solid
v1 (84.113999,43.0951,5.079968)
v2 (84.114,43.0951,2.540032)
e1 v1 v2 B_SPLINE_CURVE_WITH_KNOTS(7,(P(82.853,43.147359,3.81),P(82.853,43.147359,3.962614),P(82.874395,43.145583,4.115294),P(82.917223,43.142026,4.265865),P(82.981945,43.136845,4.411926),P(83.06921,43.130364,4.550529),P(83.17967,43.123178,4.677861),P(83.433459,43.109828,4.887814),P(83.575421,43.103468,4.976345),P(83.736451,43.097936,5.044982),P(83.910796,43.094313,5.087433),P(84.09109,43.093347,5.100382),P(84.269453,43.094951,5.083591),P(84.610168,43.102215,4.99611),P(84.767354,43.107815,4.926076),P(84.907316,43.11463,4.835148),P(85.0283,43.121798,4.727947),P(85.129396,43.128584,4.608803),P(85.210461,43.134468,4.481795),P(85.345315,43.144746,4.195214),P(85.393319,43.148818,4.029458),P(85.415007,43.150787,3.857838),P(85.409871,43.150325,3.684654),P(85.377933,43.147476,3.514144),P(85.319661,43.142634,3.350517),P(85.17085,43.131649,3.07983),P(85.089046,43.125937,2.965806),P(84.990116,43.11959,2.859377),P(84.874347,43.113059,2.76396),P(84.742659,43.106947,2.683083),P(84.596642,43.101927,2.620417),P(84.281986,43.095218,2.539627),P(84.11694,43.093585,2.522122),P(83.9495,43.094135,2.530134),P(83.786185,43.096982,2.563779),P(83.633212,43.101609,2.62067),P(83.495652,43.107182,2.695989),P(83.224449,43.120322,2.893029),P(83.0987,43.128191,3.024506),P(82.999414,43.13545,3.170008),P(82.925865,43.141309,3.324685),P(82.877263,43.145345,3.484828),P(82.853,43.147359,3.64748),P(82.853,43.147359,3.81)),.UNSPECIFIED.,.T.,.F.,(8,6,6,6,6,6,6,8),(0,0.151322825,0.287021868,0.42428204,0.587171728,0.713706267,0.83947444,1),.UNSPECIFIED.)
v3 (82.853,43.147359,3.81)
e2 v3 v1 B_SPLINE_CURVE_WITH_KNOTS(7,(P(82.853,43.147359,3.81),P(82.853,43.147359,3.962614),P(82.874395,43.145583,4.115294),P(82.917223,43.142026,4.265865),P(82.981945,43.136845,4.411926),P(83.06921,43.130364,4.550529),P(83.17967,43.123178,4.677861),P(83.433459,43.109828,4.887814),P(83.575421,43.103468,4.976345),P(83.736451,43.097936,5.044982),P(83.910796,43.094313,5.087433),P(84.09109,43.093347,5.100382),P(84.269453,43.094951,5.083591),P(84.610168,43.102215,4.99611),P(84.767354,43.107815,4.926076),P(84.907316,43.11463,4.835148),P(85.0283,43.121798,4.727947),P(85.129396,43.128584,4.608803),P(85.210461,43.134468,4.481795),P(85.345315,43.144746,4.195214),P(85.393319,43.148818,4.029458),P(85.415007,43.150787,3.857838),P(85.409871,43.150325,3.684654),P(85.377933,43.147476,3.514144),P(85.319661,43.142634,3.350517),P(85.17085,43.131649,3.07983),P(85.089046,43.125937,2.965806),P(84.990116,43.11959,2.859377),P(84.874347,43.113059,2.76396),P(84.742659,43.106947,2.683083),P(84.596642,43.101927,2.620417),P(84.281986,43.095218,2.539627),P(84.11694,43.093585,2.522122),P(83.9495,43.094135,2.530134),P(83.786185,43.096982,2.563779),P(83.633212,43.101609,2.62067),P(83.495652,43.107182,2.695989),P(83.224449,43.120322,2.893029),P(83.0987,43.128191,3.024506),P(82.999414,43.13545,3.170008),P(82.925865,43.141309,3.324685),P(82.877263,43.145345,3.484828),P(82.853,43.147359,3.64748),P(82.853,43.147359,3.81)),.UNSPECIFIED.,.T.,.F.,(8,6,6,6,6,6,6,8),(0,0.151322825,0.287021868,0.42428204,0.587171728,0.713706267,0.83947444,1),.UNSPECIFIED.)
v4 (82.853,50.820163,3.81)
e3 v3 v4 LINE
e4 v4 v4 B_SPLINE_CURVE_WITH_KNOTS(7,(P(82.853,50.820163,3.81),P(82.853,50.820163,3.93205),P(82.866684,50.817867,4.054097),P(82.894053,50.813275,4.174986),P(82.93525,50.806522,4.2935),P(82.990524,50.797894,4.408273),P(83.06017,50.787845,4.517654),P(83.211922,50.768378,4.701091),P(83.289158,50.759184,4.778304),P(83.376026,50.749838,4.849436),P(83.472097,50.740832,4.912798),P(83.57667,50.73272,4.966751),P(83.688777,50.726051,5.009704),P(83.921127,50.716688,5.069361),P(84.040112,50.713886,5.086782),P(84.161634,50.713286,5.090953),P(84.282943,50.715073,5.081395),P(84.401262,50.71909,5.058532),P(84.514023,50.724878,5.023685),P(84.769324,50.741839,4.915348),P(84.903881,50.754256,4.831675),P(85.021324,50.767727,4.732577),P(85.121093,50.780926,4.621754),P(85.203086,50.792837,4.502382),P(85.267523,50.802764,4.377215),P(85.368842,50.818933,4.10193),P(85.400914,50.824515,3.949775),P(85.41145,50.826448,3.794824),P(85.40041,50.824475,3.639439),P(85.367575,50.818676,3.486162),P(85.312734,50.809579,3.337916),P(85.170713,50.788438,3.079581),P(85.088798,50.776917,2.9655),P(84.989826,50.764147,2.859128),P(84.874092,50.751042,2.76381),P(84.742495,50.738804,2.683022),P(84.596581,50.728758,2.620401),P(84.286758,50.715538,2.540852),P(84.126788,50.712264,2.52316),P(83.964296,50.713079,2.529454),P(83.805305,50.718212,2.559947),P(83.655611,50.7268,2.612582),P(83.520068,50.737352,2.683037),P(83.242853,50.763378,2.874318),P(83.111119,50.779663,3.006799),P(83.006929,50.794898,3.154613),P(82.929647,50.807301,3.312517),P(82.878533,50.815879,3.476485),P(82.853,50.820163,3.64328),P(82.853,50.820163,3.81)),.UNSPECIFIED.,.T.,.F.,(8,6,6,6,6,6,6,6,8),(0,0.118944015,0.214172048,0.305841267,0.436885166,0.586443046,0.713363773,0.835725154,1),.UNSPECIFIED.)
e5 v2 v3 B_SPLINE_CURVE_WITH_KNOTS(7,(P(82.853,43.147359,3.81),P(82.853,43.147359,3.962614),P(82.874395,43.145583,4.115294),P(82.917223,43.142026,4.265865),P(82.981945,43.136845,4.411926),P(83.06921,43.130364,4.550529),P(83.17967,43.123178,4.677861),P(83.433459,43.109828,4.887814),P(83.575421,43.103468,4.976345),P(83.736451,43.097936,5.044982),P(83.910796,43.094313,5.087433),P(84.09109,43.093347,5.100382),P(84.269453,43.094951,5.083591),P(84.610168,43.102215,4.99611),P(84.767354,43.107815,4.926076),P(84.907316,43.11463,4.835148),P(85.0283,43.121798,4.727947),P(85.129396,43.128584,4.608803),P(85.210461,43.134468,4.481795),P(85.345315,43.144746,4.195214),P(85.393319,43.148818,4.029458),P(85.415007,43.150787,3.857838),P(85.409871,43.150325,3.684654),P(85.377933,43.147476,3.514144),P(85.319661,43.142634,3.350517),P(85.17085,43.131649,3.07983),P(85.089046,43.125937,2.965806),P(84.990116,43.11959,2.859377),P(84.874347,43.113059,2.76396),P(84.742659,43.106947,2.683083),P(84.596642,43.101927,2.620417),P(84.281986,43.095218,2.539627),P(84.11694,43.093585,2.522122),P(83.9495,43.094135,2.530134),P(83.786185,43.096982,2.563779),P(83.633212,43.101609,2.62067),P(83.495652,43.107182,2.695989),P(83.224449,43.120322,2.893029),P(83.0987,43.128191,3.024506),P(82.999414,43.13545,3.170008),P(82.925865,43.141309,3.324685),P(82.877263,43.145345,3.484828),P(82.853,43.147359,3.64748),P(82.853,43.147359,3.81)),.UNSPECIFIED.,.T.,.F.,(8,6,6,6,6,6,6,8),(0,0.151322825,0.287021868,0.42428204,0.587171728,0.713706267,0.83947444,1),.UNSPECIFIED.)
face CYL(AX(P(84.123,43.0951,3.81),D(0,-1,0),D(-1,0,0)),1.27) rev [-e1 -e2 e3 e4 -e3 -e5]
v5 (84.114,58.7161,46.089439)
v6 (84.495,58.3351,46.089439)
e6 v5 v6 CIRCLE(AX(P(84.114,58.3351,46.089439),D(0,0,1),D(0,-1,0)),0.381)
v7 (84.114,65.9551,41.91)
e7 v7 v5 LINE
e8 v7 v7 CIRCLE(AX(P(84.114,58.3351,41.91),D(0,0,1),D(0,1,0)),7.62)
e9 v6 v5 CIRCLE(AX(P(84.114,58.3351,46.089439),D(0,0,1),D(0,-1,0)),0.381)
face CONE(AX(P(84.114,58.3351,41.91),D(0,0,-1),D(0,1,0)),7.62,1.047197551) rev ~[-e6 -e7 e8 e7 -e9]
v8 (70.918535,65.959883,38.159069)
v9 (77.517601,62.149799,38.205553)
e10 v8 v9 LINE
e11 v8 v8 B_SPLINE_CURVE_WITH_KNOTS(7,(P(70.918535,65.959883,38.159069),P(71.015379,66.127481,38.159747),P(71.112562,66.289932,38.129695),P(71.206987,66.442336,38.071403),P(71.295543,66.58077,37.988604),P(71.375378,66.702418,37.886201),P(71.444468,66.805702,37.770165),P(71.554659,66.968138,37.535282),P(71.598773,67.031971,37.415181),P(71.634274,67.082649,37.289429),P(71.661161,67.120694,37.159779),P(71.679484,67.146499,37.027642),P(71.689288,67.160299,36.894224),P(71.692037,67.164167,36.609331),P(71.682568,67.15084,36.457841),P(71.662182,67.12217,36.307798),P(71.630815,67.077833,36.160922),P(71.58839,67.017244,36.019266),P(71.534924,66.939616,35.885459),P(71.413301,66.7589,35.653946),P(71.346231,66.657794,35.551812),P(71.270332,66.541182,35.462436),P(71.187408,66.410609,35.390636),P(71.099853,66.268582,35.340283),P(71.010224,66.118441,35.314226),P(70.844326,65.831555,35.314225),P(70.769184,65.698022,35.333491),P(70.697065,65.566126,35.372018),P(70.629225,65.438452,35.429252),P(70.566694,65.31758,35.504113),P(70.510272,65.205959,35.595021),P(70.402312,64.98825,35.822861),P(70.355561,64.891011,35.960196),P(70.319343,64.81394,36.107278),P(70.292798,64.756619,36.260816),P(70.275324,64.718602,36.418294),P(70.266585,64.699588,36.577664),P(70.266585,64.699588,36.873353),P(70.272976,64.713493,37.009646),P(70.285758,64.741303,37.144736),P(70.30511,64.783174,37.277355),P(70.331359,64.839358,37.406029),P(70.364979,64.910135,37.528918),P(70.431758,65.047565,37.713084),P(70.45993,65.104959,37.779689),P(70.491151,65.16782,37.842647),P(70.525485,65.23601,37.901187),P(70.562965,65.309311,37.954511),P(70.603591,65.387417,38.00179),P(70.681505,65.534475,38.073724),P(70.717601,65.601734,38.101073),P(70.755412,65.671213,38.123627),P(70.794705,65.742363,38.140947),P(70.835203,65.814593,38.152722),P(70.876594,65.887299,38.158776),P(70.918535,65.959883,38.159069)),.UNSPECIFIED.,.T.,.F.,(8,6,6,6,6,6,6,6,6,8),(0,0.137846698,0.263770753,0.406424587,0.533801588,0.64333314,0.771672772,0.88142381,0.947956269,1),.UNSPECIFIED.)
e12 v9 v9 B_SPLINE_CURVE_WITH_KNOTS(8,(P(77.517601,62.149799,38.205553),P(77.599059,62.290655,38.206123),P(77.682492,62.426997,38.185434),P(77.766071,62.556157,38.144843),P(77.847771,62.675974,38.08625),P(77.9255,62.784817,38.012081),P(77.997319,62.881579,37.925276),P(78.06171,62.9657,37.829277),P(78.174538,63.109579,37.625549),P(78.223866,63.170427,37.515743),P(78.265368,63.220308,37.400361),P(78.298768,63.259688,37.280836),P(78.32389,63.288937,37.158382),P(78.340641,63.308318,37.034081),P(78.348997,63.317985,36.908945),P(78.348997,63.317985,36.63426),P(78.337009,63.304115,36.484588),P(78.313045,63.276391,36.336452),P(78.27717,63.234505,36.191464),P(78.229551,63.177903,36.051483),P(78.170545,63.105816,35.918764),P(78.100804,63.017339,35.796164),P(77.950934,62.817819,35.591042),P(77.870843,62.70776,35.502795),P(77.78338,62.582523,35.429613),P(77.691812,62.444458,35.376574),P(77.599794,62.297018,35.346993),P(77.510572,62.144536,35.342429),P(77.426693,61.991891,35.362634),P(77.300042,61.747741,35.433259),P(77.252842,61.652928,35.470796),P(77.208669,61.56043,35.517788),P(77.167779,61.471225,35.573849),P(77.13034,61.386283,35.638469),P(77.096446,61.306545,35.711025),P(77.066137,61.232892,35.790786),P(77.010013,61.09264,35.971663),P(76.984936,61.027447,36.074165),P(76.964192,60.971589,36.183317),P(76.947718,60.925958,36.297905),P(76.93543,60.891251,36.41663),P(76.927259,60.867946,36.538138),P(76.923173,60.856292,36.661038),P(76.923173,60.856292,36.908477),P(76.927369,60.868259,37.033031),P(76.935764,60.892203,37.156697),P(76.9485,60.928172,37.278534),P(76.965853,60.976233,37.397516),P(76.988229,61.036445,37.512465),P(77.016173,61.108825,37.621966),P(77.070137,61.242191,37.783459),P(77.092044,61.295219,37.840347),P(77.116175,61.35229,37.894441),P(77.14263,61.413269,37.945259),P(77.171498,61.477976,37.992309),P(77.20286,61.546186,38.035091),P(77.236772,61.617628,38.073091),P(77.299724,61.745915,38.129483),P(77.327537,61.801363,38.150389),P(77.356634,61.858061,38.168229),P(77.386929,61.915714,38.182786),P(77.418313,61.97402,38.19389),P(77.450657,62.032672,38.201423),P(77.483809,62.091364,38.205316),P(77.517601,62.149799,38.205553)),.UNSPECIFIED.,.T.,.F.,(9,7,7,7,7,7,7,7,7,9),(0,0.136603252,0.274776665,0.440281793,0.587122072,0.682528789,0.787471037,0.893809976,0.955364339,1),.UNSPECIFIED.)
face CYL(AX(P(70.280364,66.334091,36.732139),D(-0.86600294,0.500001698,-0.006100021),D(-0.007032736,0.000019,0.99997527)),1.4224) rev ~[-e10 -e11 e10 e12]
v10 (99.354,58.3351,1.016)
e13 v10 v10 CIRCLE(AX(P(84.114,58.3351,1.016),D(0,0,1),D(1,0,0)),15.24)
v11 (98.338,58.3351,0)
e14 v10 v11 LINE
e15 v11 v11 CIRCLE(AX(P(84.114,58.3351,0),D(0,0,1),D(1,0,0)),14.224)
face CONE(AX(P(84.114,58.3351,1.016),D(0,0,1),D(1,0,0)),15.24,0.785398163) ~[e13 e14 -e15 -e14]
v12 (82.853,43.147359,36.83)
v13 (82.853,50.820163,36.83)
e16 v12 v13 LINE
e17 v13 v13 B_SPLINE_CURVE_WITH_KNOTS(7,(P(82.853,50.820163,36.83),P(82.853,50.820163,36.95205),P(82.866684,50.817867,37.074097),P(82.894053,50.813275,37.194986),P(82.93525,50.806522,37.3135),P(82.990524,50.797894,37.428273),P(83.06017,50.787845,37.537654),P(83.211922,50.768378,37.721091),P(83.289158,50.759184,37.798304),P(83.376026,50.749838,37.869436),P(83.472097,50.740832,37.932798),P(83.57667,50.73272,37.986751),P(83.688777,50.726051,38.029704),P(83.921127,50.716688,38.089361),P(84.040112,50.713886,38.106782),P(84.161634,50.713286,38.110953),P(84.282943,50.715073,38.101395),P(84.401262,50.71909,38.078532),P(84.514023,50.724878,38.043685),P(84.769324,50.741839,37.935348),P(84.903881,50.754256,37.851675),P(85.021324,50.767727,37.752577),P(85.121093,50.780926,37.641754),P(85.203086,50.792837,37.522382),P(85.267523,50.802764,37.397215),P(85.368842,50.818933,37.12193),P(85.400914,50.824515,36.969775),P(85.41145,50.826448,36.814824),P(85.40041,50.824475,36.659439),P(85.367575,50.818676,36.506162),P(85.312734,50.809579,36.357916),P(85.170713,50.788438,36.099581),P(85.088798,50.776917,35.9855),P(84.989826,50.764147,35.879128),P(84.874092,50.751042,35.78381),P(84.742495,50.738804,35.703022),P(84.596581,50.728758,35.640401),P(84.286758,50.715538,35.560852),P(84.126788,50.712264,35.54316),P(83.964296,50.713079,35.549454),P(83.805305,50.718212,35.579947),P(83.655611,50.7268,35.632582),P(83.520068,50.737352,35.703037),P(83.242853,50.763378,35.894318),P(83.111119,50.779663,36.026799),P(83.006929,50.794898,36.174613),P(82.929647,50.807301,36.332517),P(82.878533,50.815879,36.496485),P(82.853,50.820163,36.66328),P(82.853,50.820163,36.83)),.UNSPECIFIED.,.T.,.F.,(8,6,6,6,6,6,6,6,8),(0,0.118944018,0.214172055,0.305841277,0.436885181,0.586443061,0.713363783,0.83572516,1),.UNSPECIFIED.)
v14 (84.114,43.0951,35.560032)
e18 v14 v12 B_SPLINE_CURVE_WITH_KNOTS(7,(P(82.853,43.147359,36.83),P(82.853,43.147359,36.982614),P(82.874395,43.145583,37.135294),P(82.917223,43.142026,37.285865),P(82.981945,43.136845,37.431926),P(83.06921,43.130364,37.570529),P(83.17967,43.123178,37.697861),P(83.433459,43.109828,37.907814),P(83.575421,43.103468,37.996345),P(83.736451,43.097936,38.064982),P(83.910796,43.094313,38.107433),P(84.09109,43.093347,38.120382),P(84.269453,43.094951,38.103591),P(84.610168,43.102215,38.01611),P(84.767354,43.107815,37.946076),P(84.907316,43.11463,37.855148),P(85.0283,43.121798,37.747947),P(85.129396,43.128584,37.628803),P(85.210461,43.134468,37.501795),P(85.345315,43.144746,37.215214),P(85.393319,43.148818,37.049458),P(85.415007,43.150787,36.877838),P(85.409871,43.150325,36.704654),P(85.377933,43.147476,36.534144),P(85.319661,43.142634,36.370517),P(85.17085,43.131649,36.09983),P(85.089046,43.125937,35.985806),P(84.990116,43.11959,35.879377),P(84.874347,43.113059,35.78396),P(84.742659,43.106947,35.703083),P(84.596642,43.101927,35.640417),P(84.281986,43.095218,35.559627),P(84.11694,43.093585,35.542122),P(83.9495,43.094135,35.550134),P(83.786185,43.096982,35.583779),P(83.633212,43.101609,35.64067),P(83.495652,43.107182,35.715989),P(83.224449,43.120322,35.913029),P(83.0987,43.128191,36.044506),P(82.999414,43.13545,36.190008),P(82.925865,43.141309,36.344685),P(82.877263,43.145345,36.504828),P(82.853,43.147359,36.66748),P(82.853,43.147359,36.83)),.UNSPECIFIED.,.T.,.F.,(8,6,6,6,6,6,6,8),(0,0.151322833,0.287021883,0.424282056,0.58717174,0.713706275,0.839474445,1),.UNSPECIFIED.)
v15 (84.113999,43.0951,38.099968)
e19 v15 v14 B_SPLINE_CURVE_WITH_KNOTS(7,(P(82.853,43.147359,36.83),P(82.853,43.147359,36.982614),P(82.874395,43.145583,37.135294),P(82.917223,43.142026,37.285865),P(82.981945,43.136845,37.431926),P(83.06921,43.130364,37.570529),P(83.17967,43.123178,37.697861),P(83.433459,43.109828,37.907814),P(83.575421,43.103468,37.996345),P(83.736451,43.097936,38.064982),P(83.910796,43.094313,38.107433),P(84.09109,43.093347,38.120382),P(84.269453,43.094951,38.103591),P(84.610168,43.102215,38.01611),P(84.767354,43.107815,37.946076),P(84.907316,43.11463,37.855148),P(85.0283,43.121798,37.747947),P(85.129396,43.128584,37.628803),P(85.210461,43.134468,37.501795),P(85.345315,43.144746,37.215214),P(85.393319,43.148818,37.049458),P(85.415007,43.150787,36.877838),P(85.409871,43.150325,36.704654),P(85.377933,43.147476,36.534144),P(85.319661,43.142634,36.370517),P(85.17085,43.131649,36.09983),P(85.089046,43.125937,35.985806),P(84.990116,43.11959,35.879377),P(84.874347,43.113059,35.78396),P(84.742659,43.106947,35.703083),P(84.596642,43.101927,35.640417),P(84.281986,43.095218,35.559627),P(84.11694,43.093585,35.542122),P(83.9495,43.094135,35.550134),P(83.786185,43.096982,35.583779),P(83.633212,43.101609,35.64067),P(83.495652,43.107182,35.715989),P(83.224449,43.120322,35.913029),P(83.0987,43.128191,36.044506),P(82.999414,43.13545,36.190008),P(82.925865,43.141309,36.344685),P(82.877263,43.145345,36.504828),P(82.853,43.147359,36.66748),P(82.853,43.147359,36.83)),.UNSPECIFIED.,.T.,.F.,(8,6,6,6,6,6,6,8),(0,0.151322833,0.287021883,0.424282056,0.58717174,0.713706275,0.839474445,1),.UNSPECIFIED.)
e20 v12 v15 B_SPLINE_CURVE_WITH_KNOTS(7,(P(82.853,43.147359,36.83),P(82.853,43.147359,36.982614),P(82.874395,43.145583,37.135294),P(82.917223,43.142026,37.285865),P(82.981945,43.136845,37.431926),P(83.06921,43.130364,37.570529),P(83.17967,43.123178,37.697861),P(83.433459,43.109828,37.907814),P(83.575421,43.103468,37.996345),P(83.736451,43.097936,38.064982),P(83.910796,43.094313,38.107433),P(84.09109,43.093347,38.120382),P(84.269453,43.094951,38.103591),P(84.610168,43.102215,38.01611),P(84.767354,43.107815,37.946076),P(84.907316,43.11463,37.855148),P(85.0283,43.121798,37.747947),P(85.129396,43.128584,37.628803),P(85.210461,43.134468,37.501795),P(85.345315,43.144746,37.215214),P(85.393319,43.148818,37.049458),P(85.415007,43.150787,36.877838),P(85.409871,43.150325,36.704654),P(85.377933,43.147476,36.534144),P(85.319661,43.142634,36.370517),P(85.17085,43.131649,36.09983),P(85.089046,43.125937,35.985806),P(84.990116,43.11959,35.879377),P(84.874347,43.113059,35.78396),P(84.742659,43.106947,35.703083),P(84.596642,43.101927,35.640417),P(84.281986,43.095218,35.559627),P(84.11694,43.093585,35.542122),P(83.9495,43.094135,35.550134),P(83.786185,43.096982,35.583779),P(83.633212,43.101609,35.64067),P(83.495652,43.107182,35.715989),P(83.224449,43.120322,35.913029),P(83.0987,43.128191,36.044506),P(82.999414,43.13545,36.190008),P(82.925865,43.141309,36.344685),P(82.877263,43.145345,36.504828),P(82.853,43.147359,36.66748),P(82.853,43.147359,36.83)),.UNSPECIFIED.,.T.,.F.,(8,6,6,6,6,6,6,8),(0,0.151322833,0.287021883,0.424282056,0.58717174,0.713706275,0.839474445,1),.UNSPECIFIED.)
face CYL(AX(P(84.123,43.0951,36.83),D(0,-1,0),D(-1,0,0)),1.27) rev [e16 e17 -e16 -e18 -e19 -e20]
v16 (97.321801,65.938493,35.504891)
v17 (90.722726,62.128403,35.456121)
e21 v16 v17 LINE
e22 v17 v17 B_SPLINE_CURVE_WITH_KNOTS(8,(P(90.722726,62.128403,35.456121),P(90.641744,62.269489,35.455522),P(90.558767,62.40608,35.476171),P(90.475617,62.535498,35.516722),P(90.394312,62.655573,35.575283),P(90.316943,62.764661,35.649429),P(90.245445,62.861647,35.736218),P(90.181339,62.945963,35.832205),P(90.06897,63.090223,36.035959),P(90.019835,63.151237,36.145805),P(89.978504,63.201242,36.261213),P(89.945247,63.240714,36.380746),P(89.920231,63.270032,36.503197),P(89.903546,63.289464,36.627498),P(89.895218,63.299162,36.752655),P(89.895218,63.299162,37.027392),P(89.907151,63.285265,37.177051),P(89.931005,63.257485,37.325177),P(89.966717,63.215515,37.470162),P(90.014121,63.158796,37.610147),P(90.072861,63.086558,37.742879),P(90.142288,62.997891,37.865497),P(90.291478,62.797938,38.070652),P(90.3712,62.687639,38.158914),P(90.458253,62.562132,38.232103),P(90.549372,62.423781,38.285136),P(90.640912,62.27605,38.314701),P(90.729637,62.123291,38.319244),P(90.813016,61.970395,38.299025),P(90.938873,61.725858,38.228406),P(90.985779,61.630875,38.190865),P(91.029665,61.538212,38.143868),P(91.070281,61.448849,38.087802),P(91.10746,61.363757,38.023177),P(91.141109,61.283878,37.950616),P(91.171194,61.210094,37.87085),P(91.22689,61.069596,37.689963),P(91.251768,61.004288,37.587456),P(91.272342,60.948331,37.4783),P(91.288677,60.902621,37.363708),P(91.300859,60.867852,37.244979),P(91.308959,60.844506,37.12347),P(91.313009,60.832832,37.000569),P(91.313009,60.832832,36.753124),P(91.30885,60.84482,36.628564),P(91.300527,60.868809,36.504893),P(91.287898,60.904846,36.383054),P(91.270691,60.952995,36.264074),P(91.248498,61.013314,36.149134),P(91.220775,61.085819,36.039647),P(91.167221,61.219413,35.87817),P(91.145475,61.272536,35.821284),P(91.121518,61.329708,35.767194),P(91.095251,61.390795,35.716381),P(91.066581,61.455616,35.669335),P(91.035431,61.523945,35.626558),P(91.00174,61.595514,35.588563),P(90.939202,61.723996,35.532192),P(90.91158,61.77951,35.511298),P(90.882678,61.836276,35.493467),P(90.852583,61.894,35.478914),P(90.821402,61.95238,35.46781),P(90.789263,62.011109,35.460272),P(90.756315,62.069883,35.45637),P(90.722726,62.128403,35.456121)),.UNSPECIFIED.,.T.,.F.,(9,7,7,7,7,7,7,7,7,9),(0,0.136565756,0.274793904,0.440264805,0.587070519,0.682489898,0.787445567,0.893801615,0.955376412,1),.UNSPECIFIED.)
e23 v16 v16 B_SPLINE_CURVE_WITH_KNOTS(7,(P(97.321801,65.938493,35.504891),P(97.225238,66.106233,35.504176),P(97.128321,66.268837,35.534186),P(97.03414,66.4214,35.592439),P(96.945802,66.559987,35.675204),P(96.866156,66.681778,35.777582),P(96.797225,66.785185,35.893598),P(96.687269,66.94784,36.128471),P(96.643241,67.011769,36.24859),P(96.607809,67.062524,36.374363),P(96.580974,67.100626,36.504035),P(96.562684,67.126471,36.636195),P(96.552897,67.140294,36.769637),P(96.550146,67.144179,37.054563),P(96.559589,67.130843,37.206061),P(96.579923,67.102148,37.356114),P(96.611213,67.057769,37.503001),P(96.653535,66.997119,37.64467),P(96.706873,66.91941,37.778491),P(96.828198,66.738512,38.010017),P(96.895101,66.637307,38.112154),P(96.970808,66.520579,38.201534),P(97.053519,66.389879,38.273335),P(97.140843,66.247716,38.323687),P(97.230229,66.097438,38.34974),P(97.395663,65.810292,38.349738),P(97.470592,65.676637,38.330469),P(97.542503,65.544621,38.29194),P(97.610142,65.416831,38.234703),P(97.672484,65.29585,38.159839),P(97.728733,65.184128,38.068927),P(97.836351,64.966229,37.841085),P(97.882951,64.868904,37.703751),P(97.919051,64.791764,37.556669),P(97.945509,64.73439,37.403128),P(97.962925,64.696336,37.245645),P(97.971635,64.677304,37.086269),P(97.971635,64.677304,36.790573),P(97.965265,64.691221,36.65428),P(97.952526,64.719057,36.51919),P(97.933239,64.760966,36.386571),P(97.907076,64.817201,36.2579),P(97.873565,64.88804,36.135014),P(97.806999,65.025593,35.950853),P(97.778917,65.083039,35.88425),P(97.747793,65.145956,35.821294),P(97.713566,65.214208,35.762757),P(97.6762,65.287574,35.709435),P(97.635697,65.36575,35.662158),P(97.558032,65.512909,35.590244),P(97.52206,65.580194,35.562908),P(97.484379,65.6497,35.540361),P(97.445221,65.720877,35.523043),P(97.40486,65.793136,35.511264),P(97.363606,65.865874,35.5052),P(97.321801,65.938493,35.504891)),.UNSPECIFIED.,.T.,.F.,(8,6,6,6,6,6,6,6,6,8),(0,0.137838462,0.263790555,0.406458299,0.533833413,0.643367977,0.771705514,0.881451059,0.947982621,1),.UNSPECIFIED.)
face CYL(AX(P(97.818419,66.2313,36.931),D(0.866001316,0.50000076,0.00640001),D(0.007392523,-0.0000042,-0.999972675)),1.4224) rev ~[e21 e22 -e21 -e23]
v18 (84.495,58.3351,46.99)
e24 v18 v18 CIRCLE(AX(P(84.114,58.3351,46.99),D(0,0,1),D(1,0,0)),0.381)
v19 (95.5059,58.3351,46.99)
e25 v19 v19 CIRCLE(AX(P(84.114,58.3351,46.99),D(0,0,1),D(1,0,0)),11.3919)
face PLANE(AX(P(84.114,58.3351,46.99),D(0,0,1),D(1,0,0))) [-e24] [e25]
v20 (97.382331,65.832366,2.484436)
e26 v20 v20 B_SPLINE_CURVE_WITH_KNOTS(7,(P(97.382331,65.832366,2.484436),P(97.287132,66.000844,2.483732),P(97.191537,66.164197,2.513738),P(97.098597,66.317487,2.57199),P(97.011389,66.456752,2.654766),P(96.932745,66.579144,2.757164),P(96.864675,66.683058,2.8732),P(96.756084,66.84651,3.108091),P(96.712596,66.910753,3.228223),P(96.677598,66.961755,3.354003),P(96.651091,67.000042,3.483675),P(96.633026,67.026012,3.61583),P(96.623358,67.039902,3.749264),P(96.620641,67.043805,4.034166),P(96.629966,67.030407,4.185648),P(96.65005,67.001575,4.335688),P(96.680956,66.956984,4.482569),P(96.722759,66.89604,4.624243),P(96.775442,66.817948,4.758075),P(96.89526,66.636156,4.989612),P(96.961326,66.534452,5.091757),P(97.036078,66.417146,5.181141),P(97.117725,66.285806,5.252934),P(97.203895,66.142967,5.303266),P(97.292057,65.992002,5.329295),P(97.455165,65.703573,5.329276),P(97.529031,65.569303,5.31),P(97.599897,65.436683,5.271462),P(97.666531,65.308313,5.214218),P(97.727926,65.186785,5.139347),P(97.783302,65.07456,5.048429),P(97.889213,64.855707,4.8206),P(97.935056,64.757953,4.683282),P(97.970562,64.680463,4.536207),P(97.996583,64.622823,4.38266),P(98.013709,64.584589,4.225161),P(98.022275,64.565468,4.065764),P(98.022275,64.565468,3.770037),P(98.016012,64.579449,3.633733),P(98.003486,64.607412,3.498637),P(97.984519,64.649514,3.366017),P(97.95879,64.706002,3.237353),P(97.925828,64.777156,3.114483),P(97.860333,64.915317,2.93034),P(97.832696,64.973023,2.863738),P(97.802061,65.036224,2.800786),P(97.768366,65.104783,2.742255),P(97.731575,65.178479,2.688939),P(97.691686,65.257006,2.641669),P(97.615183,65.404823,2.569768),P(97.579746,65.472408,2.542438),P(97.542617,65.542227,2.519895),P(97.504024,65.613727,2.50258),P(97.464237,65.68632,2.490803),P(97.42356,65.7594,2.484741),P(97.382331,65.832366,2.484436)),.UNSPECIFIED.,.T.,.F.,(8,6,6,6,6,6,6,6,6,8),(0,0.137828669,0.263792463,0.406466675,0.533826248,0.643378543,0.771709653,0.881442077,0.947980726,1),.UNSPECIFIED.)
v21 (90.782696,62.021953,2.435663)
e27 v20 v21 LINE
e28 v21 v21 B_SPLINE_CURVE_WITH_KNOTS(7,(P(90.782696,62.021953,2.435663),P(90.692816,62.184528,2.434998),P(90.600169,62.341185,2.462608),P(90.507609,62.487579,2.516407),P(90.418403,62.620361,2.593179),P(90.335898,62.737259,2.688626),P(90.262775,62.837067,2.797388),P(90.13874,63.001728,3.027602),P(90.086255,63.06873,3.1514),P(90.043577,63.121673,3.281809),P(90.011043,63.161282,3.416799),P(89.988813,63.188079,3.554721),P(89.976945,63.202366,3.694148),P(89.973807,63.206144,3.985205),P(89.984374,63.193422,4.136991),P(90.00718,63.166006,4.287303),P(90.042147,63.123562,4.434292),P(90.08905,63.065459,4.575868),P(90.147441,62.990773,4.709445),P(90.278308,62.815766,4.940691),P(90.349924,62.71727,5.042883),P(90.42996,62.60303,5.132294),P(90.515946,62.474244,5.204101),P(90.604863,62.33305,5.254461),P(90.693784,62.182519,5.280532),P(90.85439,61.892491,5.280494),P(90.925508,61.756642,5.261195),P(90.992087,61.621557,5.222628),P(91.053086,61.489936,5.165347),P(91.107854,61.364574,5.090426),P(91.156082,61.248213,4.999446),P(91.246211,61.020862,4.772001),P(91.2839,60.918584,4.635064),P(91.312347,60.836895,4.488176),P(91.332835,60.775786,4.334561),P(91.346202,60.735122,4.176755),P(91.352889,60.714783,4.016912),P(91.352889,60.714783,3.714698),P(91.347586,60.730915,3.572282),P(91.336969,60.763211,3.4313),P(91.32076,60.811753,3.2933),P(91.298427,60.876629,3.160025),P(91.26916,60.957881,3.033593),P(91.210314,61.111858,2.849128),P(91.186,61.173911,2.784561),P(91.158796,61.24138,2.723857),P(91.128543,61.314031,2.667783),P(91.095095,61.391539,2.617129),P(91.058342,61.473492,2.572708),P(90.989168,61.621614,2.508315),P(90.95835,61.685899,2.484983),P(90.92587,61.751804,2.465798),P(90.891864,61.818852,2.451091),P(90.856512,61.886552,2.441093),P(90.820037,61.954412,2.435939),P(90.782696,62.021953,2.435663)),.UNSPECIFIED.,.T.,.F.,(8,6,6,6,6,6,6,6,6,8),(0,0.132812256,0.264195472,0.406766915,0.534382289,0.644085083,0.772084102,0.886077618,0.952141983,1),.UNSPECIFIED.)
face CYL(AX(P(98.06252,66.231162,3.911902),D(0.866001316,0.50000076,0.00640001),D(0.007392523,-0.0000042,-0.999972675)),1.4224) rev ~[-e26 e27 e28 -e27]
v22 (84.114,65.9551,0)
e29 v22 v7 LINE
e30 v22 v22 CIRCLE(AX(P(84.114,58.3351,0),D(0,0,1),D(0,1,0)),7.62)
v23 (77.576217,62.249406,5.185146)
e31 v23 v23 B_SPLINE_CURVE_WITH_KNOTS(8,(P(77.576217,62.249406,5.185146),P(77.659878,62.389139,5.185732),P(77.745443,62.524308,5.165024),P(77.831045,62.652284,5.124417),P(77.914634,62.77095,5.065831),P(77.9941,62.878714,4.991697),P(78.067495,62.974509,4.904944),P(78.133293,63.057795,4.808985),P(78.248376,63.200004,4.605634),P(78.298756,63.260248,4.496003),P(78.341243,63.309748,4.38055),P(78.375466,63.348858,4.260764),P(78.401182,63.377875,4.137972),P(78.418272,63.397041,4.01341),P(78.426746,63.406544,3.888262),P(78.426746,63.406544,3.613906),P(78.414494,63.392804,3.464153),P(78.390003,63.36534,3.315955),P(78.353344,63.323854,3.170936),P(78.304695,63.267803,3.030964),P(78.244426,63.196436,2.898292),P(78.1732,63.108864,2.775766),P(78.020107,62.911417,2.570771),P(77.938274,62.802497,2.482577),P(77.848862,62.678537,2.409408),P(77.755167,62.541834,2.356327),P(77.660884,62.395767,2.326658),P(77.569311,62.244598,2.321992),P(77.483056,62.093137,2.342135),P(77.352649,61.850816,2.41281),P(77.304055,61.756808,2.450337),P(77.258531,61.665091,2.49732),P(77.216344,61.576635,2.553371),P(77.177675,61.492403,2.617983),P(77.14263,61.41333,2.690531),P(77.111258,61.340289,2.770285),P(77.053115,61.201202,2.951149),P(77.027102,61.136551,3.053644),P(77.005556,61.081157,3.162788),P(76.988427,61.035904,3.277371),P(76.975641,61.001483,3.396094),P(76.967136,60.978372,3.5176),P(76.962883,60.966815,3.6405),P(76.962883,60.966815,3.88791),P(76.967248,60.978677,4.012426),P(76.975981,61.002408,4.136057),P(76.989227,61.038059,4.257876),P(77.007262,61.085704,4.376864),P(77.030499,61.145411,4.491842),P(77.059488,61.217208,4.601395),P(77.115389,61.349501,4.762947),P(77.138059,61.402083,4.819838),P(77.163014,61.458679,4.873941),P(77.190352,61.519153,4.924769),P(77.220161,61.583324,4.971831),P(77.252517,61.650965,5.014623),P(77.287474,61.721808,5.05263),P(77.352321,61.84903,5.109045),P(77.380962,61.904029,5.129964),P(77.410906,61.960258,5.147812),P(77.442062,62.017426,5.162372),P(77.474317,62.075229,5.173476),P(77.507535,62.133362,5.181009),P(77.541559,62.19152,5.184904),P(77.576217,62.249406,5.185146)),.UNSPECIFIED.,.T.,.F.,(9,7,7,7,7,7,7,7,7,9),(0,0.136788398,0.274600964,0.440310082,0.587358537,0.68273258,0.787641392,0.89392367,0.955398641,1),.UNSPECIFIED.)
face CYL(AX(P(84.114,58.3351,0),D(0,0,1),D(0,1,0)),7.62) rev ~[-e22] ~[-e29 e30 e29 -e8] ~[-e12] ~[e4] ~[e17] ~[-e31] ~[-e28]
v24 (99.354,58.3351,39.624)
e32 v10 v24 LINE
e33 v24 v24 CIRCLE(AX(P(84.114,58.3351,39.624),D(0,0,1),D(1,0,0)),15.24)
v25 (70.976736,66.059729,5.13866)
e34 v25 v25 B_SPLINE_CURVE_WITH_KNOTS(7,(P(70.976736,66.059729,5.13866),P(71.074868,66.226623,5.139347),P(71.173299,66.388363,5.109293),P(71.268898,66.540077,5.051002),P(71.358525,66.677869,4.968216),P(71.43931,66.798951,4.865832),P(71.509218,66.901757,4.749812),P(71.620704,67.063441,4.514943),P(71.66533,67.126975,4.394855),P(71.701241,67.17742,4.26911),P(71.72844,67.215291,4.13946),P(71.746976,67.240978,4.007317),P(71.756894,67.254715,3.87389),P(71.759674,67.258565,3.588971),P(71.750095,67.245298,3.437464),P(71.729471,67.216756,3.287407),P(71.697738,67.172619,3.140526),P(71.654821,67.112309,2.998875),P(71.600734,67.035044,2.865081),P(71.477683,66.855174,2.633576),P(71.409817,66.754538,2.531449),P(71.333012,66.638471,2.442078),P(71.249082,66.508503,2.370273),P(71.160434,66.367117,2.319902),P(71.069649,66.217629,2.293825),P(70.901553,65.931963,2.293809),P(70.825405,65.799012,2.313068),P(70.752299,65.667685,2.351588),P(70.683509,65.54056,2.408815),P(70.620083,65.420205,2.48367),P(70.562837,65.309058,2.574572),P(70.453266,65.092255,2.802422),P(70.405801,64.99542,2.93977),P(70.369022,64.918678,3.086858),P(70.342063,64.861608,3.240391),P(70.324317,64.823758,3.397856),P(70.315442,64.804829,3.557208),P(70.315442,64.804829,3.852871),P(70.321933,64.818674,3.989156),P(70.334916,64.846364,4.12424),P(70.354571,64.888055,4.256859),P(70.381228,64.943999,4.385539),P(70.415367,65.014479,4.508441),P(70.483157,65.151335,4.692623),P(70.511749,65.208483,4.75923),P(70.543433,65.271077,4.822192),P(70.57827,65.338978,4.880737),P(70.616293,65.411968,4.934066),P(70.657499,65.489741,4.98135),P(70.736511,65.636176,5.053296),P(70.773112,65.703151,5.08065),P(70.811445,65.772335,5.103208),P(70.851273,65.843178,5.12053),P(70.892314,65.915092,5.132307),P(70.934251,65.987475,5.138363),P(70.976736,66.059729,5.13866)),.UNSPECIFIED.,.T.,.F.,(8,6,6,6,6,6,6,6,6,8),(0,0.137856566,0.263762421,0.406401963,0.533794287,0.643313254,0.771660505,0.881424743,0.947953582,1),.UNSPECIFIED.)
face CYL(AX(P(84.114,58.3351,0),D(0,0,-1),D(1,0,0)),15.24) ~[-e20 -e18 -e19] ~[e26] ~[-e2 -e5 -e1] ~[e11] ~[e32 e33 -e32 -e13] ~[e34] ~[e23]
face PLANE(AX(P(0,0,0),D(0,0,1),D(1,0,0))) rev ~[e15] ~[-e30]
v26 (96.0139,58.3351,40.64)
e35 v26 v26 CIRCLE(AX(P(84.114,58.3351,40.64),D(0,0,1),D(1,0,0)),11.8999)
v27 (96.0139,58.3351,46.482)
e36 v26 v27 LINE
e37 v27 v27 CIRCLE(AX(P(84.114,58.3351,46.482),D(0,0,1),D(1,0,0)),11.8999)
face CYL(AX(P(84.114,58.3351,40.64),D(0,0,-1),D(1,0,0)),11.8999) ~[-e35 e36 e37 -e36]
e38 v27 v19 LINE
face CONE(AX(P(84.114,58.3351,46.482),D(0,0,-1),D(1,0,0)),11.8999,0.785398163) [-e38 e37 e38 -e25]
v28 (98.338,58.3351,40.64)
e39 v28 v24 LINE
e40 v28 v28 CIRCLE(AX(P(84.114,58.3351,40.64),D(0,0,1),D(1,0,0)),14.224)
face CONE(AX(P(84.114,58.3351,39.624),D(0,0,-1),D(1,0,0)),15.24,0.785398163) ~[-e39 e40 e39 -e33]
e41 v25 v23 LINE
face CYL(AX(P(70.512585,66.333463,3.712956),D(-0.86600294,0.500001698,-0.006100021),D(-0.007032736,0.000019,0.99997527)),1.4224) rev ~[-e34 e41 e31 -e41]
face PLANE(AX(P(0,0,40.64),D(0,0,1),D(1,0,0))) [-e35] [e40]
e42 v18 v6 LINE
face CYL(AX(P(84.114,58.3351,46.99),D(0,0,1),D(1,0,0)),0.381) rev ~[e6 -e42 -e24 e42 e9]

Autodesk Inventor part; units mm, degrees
ref_plane "YZ Plane" through (0, 0, 0) normal (1, 0, 0) x (0, 1, 0)
ref_plane "XY Plane" through (0, 0, 0) normal (0, 0, 1) x (1, 0, 0)
sketch "Sketch1" plane through (0, 0, 0) normal (0, 0, 1) x (1, 0, 0)
  circle A0 centre (84.114, 58.3351) radius 15.24
  line L0 (84.114, 61.4651) -> (84.114, 53.9668)
  line L1 (87.092, 58.3351) -> (81.5348, 58.3351)
  point P0 (0, 0)
  dimension "d0" = 30.48
extrude "Extrusion1" add sketch "Sketch1" along normal blind 40.64
sketch "Sketch2" plane through (84.114, 58.3351, 40.64) normal (0, 0, 1) x (1, 0, 0)
  circle A0 centre (0, 0) radius 11.8999
  circle A1 centre (0, 0) radius 0.381
  point P0 (-84.114, -58.3351)
  dimension "d3" = 23.7998
  dimension "d62" = 0.762
extrude "Extrusion2" add sketch "Sketch2" along normal blind 6.35 contours A0 | A1
chamfer "Chamfer1" distance 0.508 angle 45 1 edges at (72.2141, 58.3351, 46.99)
chamfer "Chamfer2" distance 1.016 angle 45 1 edges at (68.874, 58.3351, 40.64)
thread "Thread2" size "M25x1" class "6g" standard "ANSI Metric M Profile" full length
sketch "Sketch4" plane through (84.114, 58.3351, 0) normal (0, 0, -1) x (-1, 0, 0)
  circle A0 centre (0, 0) radius 11.8999 projected
  point P0 (84.114, -58.3351)
hole "Hole1" at (84.114, 58.3351, 0) direction (0, 0, 1) diameter 15.24 depth 41.91 tip angle 120
chamfer "Chamfer3" distance 1.016 angle 45 1 edges at (68.874, 58.3351, 0)
sketch "Sketch9" plane through (84.114, 58.3351, 46.99) normal (0, 0, 1) x (1, 0, 0)
  point P0 (0, 0)
hole "Hole3" at (84.114, 58.3351, 46.99) direction (0, 0, 1) diameter 0.762 depth 41.91 tip angle 120
sketch "Sketch10" plane through (84.114, 58.3351, 46.99) normal (0, 0, 1) x (1, 0, 0)
  circle A0 centre (0, 0) radius 0.381
  point P0 (-84.114, -58.3351)
  dimension "d63" = 0.762
extrude "Extrusion6" cut sketch "Sketch10" against normal blind 7.62
ref_plane "Work Plane11" through (84.114, 43.0951, 0) normal (0, 1, 0) x (-1, 0, 0)
sketch "Sketch12" plane through (84.114, 43.0951, 0) normal (0, 1, 0) x (-1, 0, 0)
  circle A0 centre (0, 36.83) radius 1.4224
  circle A1 centre (0, 3.81) radius 1.4224
  point P0 (84.114, 0)
  dimension "d68" = 2.8448
  dimension "d69" = 2.8448
  dimension "d71" = 33.02
sketch "Sketch19" plane through (84.114, 43.0951, 0) normal (0, 1, 0) x (-1, 0, 0)
  point P0 (84.114, 0)
sketch "Sketch20" plane through (84.114, 43.0951, 0) normal (0, 1, 0) x (-1, 0, 0)
  circle A0 centre (-0.009, 36.83) radius 1.27
  circle A1 centre (-0.009, 3.81) radius 1.27
  line L0 (-11.3919, 46.99) -> (11.3919, 46.99) projected
  point P0 (84.114, 0)
  dimension "d78" = 2.54
  dimension "d79" = 2.54
  dimension "d80" = 10.16
  dimension "d81" = 33.02
extrude "Extrusion9" cut sketch "Sketch20" along normal blind 8.89
sketch "Sketch21" plane through (84.114, 43.0951, 0) normal (0, 1, 0) x (-1, 0, 0)
  point P0 (84.114, 0)
sketch "Sketch22" plane through (84.114, 43.0951, 0) normal (0, 1, 0) x (-1, 0, 0)
  point P0 (84.114, 0)
  point P1 (27.3328, 48.7683)
  point P2 (26.9749, -2.1467)
  point P3 (-27.3472, -1.8634)
  point P4 (-26.971, 48.9999)
ref_plane "Work Plane17" through (57.1391, 43.0951, -2.1467) normal (-0.866, 0.5, -0.0061) x (-0.007, 0, 1)
sketch "Sketch23" plane through (57.1391, 43.0951, -2.1467) normal (-0.866, 0.5, -0.0061) x (-0.007, 0, 1)
  circle A0 centre (38.7859, 26.8321) radius 1.4224
  circle A1 centre (5.7659, 26.8321) radius 1.4224
  ellipse E0 centre (48.9459, 26.858) end of major axis (48.9058, 38.2499) minor radius 0.0694 projected
  point P0 (2.5484, -65.8828)
  dimension "d88" = 2.8448
  dimension "d89" = 2.8448
  dimension "d90" = 10.16
  dimension "d91" = 33.02
extrude "Extrusion10" cut sketch "Sketch23" against normal blind 8.89 contours A0 | A1
ref_plane "Work Plane18" through (111.085, 43.0951, 48.9999) normal (0.866, 0.5, 0.0064) x (0.0074, 0, -1)
sketch "Sketch24" plane through (111.085, 43.0951, 48.9999) normal (0.866, 0.5, 0.0064) x (0.0074, 0, -1)
  circle A0 centre (11.9704, 26.7143) radius 1.4224
  circle A1 centre (44.9904, 26.7143) radius 1.4224
  ellipse E0 centre (1.8104, 26.6908) end of major axis (1.7683, 38.0826) minor radius 0.073 projected
  point P0 (48.177, 18.4007)
  dimension "d95" = 2.8448
  dimension "d96" = 2.8448
  dimension "d97" = 10.16
  dimension "d98" = 33.02
extrude "Extrusion11" cut sketch "Sketch24" against normal blind 8.89 contours A0 | A1
thread "Thread3" size "4-40 UNC" class "2B" standard "ANSI Unified Screw Threads" full length
properties part number "laserfocus"
